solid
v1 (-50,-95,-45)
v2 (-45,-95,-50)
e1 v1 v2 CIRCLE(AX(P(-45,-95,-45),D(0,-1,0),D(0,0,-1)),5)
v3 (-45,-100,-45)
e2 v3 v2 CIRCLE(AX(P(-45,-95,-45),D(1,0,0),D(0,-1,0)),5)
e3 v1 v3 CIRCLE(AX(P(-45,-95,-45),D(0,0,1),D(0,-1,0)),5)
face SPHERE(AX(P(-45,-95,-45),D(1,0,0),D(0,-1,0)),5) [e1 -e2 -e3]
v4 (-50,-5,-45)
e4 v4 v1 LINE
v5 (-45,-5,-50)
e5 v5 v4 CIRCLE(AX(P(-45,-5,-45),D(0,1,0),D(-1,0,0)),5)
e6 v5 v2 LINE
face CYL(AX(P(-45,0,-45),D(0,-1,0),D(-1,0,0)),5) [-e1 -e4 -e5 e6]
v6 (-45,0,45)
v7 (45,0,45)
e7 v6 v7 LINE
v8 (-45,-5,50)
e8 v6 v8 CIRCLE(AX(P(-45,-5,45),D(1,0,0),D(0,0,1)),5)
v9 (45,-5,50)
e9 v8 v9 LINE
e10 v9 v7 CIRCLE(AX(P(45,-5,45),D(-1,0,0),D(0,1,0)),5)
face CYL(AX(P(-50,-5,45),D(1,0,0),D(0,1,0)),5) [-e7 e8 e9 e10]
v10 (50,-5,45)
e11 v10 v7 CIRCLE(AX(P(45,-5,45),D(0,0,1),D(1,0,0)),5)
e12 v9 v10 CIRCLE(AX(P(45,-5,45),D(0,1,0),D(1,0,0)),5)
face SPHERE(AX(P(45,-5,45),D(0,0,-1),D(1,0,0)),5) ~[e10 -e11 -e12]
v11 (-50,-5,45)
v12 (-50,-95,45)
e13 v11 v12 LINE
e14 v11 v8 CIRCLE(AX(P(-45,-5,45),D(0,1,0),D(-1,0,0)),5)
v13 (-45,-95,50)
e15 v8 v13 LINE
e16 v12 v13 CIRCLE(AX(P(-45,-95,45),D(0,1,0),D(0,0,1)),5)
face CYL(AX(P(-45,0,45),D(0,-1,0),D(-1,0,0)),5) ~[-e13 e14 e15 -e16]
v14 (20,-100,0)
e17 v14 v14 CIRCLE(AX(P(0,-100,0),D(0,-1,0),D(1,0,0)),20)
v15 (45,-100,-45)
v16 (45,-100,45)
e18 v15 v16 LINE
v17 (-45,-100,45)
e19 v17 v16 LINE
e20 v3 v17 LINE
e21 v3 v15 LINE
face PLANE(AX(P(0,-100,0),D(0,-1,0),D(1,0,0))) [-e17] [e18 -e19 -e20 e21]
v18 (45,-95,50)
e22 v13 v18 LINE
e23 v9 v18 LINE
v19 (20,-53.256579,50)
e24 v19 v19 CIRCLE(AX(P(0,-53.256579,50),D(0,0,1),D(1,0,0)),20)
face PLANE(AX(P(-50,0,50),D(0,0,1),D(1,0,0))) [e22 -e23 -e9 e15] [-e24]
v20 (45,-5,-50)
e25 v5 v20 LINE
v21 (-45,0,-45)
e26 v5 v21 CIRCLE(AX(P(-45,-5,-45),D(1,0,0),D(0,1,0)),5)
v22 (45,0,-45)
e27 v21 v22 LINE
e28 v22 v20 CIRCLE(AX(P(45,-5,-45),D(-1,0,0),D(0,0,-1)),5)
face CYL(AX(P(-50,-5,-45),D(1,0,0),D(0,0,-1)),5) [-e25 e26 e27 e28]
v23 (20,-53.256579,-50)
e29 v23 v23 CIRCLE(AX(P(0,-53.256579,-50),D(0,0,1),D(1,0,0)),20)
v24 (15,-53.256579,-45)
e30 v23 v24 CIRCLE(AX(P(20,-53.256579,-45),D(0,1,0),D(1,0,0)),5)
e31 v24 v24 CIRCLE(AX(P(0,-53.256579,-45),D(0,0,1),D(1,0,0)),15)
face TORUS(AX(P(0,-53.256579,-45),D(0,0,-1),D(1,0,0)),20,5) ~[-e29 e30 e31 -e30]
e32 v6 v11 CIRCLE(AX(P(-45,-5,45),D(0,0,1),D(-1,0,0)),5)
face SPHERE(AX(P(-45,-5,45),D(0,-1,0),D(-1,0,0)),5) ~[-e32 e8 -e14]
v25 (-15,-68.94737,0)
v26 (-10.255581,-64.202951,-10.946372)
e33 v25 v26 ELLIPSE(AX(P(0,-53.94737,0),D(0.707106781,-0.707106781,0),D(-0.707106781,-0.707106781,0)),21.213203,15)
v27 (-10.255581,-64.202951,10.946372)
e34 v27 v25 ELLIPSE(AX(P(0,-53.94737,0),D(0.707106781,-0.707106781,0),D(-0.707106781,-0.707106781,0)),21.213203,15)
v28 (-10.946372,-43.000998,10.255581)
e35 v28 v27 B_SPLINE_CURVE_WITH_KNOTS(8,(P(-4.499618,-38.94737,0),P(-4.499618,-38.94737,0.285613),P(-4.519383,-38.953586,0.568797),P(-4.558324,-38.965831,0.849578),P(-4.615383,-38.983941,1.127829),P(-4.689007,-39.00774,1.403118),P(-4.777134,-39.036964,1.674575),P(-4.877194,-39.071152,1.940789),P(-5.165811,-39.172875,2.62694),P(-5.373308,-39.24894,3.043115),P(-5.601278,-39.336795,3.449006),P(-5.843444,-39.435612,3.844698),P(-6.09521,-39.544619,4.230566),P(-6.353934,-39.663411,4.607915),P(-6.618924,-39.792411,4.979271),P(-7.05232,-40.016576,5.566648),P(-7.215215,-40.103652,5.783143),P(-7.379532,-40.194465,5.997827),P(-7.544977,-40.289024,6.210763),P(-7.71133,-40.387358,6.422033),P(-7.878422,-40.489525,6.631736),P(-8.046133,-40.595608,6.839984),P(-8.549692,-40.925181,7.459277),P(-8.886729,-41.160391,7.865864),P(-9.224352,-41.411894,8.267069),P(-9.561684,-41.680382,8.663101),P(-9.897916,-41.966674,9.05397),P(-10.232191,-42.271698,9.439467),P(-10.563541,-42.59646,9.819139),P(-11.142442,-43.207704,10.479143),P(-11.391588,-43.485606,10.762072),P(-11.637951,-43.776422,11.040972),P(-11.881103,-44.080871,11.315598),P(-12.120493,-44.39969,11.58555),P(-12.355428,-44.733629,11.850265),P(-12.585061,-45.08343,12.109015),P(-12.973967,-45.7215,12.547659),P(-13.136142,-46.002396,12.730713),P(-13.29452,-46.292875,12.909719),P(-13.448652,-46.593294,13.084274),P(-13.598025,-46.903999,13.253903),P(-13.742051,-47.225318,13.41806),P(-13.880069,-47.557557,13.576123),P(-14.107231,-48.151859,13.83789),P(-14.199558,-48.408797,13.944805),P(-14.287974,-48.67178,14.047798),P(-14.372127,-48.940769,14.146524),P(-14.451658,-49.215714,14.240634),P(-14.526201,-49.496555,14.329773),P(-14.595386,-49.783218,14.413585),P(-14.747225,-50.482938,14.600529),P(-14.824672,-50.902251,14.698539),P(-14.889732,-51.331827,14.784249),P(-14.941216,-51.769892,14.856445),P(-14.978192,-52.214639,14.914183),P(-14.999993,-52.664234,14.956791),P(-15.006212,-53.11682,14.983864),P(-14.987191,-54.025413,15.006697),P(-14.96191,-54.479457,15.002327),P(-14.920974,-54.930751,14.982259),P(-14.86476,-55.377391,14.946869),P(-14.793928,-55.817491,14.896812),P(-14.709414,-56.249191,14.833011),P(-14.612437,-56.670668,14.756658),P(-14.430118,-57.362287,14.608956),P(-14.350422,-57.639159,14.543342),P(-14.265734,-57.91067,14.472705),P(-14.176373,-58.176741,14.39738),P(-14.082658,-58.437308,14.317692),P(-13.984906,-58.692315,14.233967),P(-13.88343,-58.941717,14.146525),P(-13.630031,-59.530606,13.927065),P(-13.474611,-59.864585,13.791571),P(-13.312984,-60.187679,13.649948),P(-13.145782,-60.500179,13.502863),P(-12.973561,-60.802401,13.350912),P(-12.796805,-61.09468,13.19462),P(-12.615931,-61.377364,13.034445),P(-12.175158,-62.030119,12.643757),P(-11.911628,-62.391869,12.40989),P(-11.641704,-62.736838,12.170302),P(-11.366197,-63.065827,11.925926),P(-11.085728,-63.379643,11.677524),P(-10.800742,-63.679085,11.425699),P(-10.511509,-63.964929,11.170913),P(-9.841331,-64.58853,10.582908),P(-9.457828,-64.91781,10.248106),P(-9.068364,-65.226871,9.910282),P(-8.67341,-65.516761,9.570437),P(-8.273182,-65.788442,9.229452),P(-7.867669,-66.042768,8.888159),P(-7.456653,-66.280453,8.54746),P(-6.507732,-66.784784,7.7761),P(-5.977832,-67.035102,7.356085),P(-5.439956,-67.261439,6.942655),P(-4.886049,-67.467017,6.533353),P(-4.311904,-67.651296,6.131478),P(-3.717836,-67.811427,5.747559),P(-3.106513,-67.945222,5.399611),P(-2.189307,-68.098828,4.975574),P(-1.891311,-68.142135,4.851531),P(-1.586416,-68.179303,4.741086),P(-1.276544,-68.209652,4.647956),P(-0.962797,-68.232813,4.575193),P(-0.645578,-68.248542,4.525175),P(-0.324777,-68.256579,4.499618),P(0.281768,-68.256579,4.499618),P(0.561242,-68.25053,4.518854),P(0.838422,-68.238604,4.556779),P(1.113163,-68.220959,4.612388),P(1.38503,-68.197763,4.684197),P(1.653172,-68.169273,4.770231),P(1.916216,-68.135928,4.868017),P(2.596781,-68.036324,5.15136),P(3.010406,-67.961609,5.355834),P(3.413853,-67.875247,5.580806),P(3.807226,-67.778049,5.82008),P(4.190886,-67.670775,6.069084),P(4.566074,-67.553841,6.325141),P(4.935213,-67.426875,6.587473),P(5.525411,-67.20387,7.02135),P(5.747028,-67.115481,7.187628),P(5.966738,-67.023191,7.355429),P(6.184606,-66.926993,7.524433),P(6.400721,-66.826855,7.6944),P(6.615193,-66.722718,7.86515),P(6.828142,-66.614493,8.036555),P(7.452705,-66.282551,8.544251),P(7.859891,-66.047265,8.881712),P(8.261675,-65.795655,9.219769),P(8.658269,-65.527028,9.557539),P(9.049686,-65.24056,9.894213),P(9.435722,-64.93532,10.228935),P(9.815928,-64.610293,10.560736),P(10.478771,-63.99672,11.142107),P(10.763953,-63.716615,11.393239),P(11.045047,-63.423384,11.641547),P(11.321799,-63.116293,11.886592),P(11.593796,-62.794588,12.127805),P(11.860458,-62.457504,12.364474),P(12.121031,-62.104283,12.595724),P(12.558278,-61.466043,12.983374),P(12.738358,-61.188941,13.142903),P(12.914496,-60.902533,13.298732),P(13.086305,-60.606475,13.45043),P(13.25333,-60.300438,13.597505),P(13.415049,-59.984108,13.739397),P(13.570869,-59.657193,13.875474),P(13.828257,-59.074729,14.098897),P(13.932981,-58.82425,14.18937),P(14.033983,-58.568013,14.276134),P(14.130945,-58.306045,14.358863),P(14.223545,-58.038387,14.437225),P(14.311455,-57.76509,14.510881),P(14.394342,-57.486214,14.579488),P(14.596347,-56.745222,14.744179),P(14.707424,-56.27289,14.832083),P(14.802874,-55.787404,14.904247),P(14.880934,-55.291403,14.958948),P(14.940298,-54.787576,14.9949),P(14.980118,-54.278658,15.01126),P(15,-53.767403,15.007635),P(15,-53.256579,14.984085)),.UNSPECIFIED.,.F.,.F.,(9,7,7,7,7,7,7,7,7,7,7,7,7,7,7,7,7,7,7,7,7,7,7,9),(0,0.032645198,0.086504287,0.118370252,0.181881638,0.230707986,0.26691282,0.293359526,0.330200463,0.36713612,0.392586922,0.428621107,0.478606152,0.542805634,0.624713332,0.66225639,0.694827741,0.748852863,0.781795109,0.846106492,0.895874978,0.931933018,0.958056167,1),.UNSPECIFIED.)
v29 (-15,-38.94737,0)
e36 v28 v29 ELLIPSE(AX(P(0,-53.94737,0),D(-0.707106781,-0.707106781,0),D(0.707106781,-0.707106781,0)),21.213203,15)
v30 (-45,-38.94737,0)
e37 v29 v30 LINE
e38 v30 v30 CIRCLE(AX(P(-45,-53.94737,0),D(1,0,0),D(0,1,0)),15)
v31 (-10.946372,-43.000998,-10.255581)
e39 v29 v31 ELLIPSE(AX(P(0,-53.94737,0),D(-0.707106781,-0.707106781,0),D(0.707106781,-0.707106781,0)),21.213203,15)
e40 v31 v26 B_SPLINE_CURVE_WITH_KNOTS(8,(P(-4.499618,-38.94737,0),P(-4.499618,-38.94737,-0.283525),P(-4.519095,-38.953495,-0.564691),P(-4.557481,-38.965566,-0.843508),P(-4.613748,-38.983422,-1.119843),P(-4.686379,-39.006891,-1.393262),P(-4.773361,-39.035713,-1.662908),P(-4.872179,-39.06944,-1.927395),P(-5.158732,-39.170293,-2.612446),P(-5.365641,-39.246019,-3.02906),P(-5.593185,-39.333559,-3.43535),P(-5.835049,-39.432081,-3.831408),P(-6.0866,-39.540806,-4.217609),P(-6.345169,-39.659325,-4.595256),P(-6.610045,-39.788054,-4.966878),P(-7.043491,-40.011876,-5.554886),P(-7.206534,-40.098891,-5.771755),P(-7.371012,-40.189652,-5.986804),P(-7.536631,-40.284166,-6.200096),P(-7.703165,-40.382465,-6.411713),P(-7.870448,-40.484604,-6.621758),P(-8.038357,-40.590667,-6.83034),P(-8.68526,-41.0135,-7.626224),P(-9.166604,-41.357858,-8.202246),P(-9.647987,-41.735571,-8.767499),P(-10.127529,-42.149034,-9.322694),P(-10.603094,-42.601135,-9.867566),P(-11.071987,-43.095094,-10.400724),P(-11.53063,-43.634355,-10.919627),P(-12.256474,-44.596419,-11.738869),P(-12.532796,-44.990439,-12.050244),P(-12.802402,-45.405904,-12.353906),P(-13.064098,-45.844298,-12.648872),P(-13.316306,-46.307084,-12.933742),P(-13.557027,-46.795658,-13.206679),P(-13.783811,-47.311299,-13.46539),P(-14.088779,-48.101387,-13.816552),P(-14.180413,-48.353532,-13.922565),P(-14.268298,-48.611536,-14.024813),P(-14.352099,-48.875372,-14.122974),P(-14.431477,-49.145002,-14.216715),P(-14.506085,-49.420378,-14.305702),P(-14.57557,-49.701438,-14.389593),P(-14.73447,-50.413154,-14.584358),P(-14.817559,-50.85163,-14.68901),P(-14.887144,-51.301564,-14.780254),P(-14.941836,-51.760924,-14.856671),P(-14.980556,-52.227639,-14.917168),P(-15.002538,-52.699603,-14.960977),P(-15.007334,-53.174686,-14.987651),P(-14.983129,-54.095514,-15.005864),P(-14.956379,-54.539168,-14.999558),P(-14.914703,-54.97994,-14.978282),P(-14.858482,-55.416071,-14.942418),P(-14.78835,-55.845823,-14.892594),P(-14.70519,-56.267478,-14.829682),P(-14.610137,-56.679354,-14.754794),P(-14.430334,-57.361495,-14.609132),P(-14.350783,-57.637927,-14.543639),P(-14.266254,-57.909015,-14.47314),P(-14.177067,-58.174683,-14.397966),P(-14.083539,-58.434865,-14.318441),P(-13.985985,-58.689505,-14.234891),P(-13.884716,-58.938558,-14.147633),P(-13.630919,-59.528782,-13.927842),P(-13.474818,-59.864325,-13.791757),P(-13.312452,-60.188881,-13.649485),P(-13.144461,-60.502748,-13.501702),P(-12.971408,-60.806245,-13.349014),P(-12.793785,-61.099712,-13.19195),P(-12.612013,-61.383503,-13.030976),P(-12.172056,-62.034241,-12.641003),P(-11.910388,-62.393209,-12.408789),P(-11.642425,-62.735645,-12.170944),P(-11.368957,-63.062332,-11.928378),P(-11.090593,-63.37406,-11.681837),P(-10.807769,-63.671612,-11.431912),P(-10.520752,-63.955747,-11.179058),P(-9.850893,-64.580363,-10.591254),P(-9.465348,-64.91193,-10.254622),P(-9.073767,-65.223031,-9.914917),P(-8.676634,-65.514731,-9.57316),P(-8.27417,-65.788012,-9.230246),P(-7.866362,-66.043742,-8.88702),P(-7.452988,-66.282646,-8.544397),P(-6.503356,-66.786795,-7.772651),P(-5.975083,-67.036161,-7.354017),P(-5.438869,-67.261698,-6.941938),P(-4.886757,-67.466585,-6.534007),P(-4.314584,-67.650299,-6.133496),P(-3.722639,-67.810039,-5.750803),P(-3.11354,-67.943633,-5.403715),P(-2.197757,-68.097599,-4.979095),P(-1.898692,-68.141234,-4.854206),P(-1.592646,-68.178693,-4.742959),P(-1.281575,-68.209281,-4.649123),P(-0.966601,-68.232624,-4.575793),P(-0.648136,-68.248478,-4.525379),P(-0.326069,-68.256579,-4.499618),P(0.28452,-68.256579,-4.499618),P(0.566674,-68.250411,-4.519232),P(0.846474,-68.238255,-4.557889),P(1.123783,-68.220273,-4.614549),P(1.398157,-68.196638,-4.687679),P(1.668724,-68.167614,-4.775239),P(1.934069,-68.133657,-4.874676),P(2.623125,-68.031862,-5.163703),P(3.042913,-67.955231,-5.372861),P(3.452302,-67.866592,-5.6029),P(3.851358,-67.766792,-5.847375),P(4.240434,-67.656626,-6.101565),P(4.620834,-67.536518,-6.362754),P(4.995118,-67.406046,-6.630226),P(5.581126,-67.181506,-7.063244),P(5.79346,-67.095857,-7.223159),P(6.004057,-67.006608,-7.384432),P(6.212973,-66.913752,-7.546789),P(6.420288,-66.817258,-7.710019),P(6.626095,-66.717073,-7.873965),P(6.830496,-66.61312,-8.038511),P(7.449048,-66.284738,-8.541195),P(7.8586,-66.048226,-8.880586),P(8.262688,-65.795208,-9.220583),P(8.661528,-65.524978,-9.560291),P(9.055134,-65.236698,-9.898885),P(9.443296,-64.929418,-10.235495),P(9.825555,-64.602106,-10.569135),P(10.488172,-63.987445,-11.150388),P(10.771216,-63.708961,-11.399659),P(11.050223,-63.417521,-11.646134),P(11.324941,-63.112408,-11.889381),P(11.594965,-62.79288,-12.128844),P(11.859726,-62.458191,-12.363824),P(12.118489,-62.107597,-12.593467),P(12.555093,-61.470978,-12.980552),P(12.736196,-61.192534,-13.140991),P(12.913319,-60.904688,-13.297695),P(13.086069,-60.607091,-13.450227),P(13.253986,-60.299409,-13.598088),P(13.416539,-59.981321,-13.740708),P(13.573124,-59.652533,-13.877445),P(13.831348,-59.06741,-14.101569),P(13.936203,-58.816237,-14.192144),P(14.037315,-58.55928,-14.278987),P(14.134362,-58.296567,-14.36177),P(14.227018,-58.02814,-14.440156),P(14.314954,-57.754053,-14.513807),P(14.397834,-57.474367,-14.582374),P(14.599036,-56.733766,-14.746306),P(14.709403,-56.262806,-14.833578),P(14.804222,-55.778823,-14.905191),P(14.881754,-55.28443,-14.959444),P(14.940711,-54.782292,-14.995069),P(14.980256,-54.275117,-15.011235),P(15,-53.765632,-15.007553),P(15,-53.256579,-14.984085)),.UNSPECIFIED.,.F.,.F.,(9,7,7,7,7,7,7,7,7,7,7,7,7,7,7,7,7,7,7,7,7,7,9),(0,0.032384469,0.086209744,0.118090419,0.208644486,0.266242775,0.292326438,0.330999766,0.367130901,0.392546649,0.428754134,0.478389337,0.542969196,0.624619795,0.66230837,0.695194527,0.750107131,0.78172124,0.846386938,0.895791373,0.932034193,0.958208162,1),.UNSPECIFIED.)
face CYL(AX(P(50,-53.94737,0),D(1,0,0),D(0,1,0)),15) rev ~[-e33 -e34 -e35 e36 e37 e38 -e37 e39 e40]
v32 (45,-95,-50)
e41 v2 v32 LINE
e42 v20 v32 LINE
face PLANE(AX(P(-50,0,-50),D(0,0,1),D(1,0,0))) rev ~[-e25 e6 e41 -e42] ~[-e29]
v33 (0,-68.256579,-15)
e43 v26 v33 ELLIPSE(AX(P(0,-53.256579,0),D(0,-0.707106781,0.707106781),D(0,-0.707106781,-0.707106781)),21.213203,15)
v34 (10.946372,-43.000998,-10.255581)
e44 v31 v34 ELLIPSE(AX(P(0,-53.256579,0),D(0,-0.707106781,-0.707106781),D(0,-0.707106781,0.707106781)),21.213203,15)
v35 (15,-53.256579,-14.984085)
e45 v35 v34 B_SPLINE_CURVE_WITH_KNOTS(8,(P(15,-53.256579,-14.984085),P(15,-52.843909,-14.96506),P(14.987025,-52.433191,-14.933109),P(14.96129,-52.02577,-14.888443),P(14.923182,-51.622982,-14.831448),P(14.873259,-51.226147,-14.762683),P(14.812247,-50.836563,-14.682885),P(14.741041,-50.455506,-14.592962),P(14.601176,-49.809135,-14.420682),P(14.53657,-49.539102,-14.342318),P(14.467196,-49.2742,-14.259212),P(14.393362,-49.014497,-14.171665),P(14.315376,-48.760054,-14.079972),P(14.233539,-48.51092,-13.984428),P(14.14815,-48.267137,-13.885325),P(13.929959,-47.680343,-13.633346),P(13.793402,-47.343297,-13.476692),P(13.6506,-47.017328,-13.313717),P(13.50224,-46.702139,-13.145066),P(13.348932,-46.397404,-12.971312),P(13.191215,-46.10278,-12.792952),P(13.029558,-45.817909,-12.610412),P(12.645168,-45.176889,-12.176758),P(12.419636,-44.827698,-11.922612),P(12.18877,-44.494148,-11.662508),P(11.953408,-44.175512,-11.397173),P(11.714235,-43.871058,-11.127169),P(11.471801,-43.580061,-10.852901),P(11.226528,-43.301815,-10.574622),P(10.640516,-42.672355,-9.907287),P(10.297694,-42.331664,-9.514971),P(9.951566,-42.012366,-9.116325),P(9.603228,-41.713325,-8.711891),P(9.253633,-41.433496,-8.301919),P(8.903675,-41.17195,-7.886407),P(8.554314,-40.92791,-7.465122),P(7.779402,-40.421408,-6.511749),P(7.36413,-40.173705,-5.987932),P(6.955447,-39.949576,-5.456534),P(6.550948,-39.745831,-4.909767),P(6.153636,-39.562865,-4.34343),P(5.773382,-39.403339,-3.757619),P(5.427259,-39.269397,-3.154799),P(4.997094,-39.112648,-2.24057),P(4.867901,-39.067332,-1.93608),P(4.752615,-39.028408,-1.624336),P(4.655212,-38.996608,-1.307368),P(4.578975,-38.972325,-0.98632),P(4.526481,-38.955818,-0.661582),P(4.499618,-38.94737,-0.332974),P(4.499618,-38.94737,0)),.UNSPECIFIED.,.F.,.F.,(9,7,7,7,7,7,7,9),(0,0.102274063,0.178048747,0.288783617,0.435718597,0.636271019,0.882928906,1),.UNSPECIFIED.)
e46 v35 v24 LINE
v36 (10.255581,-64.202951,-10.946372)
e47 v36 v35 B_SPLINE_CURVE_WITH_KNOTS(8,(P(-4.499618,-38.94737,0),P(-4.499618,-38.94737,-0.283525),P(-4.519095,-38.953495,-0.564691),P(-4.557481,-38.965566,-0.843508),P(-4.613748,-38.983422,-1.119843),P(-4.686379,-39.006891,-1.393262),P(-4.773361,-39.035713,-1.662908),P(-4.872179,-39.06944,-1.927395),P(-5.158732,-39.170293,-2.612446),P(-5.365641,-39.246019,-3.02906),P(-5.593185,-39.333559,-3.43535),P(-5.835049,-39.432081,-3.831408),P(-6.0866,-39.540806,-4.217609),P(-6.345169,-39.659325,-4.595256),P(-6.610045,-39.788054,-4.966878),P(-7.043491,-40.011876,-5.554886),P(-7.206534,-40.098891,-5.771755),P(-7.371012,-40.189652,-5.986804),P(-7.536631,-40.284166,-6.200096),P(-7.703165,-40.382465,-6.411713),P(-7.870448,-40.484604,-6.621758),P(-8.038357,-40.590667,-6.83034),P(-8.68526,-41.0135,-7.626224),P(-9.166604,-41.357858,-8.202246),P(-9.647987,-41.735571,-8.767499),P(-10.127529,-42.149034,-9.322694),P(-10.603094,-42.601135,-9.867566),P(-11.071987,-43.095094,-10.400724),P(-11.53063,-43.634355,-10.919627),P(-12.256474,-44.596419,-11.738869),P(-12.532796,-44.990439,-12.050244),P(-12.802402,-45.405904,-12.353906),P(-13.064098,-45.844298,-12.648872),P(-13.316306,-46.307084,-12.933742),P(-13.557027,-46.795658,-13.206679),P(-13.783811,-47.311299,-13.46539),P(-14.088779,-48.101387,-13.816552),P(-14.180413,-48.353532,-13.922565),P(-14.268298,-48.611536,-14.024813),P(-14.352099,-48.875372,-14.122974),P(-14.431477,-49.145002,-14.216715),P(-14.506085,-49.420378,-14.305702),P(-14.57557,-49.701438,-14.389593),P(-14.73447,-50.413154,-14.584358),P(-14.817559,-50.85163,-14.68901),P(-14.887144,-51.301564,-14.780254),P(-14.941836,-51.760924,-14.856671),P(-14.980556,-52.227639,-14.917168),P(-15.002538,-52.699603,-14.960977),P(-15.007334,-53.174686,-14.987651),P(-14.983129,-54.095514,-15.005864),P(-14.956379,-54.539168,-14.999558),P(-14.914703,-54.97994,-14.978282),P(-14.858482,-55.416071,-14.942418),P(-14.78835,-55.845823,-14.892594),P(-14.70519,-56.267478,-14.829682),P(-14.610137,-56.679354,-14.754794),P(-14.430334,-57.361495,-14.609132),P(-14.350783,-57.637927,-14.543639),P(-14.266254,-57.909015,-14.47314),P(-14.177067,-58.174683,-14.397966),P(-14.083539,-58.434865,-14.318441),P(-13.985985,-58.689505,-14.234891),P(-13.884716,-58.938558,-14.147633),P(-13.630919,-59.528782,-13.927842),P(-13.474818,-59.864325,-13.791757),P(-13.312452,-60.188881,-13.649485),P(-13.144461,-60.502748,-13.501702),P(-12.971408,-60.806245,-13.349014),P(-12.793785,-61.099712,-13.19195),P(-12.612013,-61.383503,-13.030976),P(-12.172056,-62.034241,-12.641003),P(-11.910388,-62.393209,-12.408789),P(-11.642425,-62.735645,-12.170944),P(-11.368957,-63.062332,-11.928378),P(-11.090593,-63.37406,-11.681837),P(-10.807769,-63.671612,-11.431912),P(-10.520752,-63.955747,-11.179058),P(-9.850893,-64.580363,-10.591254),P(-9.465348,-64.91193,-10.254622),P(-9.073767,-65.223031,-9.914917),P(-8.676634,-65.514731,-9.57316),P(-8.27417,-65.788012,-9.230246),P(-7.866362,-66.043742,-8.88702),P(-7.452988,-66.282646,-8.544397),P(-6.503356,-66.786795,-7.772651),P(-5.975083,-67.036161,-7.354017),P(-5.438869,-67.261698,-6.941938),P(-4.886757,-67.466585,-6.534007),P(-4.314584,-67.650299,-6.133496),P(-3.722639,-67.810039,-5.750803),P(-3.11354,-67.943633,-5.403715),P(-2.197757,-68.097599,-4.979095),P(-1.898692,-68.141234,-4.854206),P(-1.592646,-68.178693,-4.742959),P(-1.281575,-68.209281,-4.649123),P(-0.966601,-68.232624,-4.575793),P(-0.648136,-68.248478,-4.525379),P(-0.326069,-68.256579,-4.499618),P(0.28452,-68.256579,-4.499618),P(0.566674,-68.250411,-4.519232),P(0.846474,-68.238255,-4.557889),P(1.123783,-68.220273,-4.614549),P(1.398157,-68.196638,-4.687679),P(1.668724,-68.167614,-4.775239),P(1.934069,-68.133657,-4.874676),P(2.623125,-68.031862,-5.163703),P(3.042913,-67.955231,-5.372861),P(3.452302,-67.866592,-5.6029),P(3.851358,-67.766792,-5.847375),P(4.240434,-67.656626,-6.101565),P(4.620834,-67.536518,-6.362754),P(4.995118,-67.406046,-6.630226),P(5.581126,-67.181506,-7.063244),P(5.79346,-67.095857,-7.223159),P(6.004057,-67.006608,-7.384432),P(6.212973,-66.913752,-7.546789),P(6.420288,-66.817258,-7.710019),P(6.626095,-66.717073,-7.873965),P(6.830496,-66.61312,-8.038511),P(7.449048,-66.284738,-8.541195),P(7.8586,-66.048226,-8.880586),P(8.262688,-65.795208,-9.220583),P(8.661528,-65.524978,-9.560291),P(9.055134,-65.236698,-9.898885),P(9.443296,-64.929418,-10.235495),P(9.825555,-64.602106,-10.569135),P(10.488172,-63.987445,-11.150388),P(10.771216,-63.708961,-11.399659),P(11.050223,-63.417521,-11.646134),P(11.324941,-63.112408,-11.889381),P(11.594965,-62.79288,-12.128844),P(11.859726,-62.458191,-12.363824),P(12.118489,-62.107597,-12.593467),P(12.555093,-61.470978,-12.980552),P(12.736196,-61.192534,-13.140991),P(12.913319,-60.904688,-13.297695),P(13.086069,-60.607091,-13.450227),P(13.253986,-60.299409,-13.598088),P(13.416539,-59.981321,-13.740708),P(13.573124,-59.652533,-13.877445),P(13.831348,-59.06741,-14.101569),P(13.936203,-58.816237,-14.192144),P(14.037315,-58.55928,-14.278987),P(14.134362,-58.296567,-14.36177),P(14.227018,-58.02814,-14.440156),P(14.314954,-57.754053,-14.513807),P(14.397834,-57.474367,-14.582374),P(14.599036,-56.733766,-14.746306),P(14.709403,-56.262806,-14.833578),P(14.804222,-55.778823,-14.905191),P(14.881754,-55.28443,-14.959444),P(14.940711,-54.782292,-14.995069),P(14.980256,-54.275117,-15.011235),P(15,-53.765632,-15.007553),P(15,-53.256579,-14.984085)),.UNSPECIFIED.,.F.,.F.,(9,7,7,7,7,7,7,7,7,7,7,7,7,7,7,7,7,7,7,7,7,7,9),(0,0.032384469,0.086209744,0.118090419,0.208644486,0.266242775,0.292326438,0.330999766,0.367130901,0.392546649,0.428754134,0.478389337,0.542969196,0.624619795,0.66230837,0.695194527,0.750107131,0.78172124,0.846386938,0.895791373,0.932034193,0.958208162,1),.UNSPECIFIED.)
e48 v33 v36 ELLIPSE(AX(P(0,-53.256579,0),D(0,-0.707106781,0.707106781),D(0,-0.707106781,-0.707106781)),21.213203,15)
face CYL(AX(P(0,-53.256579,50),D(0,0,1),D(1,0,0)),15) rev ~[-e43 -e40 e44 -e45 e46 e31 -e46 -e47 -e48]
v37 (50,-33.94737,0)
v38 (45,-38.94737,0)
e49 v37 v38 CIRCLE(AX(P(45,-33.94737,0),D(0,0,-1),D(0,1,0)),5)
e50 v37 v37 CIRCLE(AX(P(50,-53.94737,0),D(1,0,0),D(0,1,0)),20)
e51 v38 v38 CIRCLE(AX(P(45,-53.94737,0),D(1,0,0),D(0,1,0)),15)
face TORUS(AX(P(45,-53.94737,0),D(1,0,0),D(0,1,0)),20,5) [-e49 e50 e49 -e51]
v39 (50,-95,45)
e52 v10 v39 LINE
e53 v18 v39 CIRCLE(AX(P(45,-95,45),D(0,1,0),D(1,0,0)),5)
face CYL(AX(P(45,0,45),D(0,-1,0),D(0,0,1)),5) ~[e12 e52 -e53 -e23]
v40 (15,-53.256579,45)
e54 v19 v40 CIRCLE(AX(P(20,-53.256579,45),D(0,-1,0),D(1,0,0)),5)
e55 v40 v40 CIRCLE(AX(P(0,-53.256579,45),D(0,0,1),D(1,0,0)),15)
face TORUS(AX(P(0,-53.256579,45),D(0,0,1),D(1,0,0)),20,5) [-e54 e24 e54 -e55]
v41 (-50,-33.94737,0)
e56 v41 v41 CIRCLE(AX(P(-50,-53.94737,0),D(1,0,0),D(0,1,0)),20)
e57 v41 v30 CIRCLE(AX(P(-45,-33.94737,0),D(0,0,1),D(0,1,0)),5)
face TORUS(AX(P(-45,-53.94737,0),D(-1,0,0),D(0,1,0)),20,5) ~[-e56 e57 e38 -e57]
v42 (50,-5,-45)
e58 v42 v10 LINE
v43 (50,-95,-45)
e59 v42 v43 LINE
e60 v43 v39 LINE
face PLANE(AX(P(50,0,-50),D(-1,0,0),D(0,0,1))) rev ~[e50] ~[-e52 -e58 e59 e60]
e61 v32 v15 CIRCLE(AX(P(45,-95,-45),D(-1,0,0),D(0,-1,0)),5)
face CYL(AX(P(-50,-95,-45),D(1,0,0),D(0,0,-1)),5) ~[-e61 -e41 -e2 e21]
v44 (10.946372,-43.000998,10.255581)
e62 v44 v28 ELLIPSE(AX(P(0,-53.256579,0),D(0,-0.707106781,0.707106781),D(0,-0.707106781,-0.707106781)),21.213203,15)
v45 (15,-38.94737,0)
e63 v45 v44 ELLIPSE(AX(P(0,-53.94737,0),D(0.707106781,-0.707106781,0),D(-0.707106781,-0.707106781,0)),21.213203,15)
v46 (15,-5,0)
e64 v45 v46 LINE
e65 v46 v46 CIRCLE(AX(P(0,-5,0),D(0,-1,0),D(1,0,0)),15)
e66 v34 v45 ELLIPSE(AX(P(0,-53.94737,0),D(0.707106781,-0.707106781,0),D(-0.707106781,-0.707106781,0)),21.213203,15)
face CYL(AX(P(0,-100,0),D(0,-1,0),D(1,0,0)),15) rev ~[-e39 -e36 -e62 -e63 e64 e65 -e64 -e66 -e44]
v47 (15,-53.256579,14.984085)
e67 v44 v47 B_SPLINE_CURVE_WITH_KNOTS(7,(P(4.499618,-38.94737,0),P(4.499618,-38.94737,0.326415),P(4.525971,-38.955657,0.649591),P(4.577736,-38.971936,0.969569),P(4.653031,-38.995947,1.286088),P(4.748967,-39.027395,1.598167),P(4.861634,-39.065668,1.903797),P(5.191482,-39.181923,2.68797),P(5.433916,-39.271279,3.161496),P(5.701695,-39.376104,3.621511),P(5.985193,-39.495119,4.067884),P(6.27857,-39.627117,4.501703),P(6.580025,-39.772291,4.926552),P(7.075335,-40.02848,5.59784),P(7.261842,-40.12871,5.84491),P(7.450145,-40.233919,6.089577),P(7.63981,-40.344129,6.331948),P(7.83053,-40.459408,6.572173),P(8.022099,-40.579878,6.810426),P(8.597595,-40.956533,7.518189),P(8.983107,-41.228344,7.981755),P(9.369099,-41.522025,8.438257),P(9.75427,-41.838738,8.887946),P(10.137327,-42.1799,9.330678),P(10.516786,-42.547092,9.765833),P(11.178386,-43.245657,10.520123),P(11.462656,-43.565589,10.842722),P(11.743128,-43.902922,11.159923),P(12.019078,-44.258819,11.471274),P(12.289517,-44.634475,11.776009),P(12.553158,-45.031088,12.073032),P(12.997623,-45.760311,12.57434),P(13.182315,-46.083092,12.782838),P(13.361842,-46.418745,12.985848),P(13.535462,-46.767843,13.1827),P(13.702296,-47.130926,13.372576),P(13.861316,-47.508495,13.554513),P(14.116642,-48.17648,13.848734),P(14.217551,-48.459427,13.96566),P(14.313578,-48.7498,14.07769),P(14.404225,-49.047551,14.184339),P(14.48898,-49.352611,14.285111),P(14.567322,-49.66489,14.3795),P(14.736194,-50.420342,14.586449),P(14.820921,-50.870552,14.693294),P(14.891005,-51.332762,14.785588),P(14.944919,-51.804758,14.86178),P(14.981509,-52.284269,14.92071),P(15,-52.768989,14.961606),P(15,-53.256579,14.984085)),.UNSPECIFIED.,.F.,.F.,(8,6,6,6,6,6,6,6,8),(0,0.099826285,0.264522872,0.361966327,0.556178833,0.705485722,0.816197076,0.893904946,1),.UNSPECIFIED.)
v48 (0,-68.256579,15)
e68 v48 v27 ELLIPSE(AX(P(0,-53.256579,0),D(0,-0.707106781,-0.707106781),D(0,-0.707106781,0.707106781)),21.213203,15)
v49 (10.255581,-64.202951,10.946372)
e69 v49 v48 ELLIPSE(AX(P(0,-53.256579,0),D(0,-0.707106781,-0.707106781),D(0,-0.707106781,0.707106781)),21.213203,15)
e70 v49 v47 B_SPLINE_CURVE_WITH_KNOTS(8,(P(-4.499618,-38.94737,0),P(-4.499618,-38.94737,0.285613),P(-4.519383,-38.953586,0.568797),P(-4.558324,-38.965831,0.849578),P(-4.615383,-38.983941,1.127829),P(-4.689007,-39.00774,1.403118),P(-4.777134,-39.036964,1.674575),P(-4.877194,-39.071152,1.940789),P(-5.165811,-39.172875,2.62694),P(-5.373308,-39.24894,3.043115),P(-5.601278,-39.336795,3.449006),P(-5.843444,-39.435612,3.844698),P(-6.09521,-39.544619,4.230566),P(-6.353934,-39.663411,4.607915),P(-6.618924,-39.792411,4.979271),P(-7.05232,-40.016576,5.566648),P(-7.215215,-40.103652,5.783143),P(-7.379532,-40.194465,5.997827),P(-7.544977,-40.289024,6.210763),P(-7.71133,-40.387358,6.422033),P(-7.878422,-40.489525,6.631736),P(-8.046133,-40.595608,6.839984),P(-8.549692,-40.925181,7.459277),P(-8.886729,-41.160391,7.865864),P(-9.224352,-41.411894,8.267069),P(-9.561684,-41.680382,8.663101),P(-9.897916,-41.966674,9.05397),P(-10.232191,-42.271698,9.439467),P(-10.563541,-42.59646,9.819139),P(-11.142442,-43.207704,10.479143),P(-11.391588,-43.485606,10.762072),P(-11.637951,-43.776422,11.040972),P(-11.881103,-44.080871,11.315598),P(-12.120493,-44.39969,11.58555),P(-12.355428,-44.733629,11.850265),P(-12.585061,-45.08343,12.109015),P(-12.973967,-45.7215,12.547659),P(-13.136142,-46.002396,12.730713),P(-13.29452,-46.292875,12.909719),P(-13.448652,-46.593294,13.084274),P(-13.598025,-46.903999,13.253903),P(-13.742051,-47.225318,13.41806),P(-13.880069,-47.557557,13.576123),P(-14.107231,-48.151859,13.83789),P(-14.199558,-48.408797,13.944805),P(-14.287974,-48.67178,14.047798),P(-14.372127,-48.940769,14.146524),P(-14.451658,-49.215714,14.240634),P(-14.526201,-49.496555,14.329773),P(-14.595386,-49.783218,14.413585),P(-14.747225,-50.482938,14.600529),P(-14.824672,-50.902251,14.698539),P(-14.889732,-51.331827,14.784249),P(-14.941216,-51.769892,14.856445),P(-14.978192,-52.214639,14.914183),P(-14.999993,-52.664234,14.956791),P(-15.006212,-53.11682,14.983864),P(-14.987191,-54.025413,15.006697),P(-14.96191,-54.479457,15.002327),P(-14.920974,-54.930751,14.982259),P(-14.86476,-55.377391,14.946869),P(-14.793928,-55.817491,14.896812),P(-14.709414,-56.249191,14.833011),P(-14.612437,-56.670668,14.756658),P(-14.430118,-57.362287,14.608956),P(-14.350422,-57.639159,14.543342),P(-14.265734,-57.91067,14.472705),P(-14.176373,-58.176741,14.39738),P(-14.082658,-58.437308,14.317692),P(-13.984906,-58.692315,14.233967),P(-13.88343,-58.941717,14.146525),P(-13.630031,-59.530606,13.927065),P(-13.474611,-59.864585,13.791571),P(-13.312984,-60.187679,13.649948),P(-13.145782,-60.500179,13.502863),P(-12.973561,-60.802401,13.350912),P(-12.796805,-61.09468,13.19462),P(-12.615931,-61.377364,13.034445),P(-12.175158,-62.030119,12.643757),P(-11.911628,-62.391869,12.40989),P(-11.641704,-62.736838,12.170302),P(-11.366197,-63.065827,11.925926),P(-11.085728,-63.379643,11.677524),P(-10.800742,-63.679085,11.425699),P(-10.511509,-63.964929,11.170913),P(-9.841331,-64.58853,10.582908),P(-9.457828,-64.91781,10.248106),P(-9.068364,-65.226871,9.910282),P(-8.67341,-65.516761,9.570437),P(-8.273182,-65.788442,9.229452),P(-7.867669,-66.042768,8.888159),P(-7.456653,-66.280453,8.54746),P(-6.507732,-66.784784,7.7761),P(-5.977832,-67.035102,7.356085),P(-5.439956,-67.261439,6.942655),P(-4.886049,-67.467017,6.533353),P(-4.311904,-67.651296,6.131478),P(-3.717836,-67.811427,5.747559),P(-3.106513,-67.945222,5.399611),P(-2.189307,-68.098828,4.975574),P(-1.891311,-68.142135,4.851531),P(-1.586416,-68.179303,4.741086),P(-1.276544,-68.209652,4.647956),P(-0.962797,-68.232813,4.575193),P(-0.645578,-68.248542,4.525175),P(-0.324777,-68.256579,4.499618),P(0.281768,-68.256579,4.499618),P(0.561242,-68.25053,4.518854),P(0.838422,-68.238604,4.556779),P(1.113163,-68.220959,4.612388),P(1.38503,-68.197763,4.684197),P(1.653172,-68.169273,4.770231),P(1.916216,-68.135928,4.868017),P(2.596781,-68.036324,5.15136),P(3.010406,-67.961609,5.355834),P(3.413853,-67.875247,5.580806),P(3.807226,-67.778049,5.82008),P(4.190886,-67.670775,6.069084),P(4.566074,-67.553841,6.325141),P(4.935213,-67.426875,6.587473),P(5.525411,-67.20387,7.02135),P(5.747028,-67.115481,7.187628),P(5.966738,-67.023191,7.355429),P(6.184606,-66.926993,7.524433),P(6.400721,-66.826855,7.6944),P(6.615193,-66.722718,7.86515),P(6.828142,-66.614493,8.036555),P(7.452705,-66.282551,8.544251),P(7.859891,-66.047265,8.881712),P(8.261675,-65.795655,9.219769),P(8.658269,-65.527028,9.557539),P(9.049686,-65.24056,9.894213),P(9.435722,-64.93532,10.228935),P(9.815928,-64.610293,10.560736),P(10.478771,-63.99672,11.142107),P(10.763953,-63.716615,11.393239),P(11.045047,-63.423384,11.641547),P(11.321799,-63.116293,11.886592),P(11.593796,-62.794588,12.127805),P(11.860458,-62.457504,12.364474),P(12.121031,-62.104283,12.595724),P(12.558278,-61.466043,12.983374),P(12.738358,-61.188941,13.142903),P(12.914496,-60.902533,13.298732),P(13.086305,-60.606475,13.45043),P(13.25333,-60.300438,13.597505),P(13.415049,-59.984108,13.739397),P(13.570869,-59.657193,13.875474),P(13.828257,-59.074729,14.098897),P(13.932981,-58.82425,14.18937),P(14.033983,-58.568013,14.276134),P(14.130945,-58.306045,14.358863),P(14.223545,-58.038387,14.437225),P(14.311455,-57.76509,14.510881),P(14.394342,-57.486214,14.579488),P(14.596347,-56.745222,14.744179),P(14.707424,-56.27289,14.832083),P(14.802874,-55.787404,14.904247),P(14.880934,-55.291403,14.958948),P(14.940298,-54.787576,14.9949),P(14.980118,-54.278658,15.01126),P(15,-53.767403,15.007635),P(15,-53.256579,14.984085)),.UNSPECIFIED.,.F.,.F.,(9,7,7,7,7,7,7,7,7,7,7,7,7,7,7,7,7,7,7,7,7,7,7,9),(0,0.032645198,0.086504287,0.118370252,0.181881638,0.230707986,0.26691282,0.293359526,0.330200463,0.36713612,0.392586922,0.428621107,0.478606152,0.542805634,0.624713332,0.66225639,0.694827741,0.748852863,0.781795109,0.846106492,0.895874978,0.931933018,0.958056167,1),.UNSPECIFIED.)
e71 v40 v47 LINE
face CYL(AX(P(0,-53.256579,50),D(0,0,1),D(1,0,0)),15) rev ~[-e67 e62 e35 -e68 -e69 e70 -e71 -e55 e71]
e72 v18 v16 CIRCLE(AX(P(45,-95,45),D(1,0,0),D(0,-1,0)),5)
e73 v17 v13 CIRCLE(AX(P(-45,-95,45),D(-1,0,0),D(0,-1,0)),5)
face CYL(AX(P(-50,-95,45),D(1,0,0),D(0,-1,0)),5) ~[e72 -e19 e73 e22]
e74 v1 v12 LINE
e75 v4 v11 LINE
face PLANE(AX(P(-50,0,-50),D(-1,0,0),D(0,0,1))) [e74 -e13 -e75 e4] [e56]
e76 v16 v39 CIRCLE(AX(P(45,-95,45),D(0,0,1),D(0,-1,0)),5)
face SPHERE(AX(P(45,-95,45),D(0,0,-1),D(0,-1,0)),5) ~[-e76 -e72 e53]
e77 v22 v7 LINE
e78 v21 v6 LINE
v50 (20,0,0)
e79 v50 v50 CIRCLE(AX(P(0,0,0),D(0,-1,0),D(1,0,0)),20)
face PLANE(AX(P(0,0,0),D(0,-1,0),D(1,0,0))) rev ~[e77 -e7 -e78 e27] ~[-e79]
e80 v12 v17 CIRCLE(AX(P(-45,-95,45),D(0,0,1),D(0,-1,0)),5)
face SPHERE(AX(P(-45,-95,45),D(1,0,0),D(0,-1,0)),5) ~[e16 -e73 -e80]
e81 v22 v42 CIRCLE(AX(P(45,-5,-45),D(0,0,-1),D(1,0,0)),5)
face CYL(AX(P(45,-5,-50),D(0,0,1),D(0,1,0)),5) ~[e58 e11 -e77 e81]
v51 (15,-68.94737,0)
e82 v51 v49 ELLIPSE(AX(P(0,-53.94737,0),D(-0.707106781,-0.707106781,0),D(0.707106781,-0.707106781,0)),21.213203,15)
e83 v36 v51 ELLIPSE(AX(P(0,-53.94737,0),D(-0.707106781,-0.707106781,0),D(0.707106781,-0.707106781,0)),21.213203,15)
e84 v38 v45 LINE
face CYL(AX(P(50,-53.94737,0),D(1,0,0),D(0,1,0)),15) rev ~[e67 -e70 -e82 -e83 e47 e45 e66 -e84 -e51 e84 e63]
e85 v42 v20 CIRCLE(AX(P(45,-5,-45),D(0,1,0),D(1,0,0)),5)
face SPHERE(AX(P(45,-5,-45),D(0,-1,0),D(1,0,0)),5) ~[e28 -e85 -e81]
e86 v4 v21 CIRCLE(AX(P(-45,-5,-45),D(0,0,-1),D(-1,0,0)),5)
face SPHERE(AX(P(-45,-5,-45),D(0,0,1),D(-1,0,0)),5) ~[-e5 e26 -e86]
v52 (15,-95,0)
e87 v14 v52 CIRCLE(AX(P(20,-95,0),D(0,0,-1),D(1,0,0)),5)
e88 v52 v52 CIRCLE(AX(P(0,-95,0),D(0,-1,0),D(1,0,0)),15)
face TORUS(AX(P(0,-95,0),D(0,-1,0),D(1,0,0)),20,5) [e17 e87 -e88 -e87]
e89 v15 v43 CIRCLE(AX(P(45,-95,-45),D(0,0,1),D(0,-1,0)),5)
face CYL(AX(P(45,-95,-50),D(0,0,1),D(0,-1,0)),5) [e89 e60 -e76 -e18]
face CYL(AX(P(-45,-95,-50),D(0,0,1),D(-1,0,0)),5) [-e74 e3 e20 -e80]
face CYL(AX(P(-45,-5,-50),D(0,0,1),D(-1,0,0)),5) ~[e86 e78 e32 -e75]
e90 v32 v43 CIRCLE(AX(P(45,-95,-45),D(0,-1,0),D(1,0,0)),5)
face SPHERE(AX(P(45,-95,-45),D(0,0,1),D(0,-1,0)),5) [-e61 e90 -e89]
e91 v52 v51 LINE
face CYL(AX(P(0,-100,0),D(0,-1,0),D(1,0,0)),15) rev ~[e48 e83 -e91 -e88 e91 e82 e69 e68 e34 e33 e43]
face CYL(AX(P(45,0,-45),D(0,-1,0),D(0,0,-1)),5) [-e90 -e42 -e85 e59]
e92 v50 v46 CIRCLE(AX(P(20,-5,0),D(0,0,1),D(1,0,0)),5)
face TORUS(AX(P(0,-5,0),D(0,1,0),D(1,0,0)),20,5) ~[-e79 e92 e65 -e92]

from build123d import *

# Parameters (mm, degrees)
F0_W     = 100
F0_H     = 100
F1_DEPTH = 100
F2_R     = 15
F3_DEPTH = 100
F4_R     = 15
F5_DEPTH = 100
F6_R     = 15
F7_DEPTH = 100
F8_R     = 5
F9_R     = 5


with BuildPart() as f1:
    # F0 (on Front) → F1 (new body)
    with BuildSketch(Plane.XZ):
        Rectangle(F0_W, F0_H)
    extrude(amount=F1_DEPTH)

    # F2 (on face) → F3 (cut)
    with BuildSketch(Plane.XZ.offset(100)):
        Circle(F2_R)
    extrude(amount=-F3_DEPTH, mode=Mode.SUBTRACT)

    # F4 (on face) → F5 (cut)
    with BuildSketch(Plane.XY.offset(50)):
        with Locations((0, -53.2565787435)):
            Circle(F4_R)
    extrude(amount=-F5_DEPTH, mode=Mode.SUBTRACT)

    # F6 (on face) → F7 (cut)
    with BuildSketch(Plane.YZ.offset(50)):
        with Locations((-53.9473704994, 0)):
            Circle(F6_R)
    extrude(amount=-F7_DEPTH, mode=Mode.SUBTRACT)

    # F8
    f8_edges = [f1.edges().sort_by_distance(p)[0] for p in [
        (50, -100, 0),
        (0, -100, -50),
        (0, -100, 50),
        (-50, -100, 0),
        (-15, -100, 0),
        (-50, -50, 50),
        (-50, 0, 0),
        (-50, -50, -50),
        (-50, -68.94737, 0),
        (50, -50, -50),
        (50, 0, 0),
        (50, -50, 50),
        (50, -68.94737, 0),
        (-15, 0, 0),
        (0, 0, -50),
        (0, 0, 50),
    ]]
    fillet(f8_edges, radius=F8_R)

    # F9
    f9_edges = [f1.edges().sort_by_distance(p)[0] for p in [
        (-15, -53.256579, 50),
        (0, -95, 50),
        (45, -50, 50),
        (-45, -50, 50),
        (0, -5, 50),
        (-15, -53.256579, -50),
    ]]
    fillet(f9_edges, radius=F9_R)


solid = f1.part
